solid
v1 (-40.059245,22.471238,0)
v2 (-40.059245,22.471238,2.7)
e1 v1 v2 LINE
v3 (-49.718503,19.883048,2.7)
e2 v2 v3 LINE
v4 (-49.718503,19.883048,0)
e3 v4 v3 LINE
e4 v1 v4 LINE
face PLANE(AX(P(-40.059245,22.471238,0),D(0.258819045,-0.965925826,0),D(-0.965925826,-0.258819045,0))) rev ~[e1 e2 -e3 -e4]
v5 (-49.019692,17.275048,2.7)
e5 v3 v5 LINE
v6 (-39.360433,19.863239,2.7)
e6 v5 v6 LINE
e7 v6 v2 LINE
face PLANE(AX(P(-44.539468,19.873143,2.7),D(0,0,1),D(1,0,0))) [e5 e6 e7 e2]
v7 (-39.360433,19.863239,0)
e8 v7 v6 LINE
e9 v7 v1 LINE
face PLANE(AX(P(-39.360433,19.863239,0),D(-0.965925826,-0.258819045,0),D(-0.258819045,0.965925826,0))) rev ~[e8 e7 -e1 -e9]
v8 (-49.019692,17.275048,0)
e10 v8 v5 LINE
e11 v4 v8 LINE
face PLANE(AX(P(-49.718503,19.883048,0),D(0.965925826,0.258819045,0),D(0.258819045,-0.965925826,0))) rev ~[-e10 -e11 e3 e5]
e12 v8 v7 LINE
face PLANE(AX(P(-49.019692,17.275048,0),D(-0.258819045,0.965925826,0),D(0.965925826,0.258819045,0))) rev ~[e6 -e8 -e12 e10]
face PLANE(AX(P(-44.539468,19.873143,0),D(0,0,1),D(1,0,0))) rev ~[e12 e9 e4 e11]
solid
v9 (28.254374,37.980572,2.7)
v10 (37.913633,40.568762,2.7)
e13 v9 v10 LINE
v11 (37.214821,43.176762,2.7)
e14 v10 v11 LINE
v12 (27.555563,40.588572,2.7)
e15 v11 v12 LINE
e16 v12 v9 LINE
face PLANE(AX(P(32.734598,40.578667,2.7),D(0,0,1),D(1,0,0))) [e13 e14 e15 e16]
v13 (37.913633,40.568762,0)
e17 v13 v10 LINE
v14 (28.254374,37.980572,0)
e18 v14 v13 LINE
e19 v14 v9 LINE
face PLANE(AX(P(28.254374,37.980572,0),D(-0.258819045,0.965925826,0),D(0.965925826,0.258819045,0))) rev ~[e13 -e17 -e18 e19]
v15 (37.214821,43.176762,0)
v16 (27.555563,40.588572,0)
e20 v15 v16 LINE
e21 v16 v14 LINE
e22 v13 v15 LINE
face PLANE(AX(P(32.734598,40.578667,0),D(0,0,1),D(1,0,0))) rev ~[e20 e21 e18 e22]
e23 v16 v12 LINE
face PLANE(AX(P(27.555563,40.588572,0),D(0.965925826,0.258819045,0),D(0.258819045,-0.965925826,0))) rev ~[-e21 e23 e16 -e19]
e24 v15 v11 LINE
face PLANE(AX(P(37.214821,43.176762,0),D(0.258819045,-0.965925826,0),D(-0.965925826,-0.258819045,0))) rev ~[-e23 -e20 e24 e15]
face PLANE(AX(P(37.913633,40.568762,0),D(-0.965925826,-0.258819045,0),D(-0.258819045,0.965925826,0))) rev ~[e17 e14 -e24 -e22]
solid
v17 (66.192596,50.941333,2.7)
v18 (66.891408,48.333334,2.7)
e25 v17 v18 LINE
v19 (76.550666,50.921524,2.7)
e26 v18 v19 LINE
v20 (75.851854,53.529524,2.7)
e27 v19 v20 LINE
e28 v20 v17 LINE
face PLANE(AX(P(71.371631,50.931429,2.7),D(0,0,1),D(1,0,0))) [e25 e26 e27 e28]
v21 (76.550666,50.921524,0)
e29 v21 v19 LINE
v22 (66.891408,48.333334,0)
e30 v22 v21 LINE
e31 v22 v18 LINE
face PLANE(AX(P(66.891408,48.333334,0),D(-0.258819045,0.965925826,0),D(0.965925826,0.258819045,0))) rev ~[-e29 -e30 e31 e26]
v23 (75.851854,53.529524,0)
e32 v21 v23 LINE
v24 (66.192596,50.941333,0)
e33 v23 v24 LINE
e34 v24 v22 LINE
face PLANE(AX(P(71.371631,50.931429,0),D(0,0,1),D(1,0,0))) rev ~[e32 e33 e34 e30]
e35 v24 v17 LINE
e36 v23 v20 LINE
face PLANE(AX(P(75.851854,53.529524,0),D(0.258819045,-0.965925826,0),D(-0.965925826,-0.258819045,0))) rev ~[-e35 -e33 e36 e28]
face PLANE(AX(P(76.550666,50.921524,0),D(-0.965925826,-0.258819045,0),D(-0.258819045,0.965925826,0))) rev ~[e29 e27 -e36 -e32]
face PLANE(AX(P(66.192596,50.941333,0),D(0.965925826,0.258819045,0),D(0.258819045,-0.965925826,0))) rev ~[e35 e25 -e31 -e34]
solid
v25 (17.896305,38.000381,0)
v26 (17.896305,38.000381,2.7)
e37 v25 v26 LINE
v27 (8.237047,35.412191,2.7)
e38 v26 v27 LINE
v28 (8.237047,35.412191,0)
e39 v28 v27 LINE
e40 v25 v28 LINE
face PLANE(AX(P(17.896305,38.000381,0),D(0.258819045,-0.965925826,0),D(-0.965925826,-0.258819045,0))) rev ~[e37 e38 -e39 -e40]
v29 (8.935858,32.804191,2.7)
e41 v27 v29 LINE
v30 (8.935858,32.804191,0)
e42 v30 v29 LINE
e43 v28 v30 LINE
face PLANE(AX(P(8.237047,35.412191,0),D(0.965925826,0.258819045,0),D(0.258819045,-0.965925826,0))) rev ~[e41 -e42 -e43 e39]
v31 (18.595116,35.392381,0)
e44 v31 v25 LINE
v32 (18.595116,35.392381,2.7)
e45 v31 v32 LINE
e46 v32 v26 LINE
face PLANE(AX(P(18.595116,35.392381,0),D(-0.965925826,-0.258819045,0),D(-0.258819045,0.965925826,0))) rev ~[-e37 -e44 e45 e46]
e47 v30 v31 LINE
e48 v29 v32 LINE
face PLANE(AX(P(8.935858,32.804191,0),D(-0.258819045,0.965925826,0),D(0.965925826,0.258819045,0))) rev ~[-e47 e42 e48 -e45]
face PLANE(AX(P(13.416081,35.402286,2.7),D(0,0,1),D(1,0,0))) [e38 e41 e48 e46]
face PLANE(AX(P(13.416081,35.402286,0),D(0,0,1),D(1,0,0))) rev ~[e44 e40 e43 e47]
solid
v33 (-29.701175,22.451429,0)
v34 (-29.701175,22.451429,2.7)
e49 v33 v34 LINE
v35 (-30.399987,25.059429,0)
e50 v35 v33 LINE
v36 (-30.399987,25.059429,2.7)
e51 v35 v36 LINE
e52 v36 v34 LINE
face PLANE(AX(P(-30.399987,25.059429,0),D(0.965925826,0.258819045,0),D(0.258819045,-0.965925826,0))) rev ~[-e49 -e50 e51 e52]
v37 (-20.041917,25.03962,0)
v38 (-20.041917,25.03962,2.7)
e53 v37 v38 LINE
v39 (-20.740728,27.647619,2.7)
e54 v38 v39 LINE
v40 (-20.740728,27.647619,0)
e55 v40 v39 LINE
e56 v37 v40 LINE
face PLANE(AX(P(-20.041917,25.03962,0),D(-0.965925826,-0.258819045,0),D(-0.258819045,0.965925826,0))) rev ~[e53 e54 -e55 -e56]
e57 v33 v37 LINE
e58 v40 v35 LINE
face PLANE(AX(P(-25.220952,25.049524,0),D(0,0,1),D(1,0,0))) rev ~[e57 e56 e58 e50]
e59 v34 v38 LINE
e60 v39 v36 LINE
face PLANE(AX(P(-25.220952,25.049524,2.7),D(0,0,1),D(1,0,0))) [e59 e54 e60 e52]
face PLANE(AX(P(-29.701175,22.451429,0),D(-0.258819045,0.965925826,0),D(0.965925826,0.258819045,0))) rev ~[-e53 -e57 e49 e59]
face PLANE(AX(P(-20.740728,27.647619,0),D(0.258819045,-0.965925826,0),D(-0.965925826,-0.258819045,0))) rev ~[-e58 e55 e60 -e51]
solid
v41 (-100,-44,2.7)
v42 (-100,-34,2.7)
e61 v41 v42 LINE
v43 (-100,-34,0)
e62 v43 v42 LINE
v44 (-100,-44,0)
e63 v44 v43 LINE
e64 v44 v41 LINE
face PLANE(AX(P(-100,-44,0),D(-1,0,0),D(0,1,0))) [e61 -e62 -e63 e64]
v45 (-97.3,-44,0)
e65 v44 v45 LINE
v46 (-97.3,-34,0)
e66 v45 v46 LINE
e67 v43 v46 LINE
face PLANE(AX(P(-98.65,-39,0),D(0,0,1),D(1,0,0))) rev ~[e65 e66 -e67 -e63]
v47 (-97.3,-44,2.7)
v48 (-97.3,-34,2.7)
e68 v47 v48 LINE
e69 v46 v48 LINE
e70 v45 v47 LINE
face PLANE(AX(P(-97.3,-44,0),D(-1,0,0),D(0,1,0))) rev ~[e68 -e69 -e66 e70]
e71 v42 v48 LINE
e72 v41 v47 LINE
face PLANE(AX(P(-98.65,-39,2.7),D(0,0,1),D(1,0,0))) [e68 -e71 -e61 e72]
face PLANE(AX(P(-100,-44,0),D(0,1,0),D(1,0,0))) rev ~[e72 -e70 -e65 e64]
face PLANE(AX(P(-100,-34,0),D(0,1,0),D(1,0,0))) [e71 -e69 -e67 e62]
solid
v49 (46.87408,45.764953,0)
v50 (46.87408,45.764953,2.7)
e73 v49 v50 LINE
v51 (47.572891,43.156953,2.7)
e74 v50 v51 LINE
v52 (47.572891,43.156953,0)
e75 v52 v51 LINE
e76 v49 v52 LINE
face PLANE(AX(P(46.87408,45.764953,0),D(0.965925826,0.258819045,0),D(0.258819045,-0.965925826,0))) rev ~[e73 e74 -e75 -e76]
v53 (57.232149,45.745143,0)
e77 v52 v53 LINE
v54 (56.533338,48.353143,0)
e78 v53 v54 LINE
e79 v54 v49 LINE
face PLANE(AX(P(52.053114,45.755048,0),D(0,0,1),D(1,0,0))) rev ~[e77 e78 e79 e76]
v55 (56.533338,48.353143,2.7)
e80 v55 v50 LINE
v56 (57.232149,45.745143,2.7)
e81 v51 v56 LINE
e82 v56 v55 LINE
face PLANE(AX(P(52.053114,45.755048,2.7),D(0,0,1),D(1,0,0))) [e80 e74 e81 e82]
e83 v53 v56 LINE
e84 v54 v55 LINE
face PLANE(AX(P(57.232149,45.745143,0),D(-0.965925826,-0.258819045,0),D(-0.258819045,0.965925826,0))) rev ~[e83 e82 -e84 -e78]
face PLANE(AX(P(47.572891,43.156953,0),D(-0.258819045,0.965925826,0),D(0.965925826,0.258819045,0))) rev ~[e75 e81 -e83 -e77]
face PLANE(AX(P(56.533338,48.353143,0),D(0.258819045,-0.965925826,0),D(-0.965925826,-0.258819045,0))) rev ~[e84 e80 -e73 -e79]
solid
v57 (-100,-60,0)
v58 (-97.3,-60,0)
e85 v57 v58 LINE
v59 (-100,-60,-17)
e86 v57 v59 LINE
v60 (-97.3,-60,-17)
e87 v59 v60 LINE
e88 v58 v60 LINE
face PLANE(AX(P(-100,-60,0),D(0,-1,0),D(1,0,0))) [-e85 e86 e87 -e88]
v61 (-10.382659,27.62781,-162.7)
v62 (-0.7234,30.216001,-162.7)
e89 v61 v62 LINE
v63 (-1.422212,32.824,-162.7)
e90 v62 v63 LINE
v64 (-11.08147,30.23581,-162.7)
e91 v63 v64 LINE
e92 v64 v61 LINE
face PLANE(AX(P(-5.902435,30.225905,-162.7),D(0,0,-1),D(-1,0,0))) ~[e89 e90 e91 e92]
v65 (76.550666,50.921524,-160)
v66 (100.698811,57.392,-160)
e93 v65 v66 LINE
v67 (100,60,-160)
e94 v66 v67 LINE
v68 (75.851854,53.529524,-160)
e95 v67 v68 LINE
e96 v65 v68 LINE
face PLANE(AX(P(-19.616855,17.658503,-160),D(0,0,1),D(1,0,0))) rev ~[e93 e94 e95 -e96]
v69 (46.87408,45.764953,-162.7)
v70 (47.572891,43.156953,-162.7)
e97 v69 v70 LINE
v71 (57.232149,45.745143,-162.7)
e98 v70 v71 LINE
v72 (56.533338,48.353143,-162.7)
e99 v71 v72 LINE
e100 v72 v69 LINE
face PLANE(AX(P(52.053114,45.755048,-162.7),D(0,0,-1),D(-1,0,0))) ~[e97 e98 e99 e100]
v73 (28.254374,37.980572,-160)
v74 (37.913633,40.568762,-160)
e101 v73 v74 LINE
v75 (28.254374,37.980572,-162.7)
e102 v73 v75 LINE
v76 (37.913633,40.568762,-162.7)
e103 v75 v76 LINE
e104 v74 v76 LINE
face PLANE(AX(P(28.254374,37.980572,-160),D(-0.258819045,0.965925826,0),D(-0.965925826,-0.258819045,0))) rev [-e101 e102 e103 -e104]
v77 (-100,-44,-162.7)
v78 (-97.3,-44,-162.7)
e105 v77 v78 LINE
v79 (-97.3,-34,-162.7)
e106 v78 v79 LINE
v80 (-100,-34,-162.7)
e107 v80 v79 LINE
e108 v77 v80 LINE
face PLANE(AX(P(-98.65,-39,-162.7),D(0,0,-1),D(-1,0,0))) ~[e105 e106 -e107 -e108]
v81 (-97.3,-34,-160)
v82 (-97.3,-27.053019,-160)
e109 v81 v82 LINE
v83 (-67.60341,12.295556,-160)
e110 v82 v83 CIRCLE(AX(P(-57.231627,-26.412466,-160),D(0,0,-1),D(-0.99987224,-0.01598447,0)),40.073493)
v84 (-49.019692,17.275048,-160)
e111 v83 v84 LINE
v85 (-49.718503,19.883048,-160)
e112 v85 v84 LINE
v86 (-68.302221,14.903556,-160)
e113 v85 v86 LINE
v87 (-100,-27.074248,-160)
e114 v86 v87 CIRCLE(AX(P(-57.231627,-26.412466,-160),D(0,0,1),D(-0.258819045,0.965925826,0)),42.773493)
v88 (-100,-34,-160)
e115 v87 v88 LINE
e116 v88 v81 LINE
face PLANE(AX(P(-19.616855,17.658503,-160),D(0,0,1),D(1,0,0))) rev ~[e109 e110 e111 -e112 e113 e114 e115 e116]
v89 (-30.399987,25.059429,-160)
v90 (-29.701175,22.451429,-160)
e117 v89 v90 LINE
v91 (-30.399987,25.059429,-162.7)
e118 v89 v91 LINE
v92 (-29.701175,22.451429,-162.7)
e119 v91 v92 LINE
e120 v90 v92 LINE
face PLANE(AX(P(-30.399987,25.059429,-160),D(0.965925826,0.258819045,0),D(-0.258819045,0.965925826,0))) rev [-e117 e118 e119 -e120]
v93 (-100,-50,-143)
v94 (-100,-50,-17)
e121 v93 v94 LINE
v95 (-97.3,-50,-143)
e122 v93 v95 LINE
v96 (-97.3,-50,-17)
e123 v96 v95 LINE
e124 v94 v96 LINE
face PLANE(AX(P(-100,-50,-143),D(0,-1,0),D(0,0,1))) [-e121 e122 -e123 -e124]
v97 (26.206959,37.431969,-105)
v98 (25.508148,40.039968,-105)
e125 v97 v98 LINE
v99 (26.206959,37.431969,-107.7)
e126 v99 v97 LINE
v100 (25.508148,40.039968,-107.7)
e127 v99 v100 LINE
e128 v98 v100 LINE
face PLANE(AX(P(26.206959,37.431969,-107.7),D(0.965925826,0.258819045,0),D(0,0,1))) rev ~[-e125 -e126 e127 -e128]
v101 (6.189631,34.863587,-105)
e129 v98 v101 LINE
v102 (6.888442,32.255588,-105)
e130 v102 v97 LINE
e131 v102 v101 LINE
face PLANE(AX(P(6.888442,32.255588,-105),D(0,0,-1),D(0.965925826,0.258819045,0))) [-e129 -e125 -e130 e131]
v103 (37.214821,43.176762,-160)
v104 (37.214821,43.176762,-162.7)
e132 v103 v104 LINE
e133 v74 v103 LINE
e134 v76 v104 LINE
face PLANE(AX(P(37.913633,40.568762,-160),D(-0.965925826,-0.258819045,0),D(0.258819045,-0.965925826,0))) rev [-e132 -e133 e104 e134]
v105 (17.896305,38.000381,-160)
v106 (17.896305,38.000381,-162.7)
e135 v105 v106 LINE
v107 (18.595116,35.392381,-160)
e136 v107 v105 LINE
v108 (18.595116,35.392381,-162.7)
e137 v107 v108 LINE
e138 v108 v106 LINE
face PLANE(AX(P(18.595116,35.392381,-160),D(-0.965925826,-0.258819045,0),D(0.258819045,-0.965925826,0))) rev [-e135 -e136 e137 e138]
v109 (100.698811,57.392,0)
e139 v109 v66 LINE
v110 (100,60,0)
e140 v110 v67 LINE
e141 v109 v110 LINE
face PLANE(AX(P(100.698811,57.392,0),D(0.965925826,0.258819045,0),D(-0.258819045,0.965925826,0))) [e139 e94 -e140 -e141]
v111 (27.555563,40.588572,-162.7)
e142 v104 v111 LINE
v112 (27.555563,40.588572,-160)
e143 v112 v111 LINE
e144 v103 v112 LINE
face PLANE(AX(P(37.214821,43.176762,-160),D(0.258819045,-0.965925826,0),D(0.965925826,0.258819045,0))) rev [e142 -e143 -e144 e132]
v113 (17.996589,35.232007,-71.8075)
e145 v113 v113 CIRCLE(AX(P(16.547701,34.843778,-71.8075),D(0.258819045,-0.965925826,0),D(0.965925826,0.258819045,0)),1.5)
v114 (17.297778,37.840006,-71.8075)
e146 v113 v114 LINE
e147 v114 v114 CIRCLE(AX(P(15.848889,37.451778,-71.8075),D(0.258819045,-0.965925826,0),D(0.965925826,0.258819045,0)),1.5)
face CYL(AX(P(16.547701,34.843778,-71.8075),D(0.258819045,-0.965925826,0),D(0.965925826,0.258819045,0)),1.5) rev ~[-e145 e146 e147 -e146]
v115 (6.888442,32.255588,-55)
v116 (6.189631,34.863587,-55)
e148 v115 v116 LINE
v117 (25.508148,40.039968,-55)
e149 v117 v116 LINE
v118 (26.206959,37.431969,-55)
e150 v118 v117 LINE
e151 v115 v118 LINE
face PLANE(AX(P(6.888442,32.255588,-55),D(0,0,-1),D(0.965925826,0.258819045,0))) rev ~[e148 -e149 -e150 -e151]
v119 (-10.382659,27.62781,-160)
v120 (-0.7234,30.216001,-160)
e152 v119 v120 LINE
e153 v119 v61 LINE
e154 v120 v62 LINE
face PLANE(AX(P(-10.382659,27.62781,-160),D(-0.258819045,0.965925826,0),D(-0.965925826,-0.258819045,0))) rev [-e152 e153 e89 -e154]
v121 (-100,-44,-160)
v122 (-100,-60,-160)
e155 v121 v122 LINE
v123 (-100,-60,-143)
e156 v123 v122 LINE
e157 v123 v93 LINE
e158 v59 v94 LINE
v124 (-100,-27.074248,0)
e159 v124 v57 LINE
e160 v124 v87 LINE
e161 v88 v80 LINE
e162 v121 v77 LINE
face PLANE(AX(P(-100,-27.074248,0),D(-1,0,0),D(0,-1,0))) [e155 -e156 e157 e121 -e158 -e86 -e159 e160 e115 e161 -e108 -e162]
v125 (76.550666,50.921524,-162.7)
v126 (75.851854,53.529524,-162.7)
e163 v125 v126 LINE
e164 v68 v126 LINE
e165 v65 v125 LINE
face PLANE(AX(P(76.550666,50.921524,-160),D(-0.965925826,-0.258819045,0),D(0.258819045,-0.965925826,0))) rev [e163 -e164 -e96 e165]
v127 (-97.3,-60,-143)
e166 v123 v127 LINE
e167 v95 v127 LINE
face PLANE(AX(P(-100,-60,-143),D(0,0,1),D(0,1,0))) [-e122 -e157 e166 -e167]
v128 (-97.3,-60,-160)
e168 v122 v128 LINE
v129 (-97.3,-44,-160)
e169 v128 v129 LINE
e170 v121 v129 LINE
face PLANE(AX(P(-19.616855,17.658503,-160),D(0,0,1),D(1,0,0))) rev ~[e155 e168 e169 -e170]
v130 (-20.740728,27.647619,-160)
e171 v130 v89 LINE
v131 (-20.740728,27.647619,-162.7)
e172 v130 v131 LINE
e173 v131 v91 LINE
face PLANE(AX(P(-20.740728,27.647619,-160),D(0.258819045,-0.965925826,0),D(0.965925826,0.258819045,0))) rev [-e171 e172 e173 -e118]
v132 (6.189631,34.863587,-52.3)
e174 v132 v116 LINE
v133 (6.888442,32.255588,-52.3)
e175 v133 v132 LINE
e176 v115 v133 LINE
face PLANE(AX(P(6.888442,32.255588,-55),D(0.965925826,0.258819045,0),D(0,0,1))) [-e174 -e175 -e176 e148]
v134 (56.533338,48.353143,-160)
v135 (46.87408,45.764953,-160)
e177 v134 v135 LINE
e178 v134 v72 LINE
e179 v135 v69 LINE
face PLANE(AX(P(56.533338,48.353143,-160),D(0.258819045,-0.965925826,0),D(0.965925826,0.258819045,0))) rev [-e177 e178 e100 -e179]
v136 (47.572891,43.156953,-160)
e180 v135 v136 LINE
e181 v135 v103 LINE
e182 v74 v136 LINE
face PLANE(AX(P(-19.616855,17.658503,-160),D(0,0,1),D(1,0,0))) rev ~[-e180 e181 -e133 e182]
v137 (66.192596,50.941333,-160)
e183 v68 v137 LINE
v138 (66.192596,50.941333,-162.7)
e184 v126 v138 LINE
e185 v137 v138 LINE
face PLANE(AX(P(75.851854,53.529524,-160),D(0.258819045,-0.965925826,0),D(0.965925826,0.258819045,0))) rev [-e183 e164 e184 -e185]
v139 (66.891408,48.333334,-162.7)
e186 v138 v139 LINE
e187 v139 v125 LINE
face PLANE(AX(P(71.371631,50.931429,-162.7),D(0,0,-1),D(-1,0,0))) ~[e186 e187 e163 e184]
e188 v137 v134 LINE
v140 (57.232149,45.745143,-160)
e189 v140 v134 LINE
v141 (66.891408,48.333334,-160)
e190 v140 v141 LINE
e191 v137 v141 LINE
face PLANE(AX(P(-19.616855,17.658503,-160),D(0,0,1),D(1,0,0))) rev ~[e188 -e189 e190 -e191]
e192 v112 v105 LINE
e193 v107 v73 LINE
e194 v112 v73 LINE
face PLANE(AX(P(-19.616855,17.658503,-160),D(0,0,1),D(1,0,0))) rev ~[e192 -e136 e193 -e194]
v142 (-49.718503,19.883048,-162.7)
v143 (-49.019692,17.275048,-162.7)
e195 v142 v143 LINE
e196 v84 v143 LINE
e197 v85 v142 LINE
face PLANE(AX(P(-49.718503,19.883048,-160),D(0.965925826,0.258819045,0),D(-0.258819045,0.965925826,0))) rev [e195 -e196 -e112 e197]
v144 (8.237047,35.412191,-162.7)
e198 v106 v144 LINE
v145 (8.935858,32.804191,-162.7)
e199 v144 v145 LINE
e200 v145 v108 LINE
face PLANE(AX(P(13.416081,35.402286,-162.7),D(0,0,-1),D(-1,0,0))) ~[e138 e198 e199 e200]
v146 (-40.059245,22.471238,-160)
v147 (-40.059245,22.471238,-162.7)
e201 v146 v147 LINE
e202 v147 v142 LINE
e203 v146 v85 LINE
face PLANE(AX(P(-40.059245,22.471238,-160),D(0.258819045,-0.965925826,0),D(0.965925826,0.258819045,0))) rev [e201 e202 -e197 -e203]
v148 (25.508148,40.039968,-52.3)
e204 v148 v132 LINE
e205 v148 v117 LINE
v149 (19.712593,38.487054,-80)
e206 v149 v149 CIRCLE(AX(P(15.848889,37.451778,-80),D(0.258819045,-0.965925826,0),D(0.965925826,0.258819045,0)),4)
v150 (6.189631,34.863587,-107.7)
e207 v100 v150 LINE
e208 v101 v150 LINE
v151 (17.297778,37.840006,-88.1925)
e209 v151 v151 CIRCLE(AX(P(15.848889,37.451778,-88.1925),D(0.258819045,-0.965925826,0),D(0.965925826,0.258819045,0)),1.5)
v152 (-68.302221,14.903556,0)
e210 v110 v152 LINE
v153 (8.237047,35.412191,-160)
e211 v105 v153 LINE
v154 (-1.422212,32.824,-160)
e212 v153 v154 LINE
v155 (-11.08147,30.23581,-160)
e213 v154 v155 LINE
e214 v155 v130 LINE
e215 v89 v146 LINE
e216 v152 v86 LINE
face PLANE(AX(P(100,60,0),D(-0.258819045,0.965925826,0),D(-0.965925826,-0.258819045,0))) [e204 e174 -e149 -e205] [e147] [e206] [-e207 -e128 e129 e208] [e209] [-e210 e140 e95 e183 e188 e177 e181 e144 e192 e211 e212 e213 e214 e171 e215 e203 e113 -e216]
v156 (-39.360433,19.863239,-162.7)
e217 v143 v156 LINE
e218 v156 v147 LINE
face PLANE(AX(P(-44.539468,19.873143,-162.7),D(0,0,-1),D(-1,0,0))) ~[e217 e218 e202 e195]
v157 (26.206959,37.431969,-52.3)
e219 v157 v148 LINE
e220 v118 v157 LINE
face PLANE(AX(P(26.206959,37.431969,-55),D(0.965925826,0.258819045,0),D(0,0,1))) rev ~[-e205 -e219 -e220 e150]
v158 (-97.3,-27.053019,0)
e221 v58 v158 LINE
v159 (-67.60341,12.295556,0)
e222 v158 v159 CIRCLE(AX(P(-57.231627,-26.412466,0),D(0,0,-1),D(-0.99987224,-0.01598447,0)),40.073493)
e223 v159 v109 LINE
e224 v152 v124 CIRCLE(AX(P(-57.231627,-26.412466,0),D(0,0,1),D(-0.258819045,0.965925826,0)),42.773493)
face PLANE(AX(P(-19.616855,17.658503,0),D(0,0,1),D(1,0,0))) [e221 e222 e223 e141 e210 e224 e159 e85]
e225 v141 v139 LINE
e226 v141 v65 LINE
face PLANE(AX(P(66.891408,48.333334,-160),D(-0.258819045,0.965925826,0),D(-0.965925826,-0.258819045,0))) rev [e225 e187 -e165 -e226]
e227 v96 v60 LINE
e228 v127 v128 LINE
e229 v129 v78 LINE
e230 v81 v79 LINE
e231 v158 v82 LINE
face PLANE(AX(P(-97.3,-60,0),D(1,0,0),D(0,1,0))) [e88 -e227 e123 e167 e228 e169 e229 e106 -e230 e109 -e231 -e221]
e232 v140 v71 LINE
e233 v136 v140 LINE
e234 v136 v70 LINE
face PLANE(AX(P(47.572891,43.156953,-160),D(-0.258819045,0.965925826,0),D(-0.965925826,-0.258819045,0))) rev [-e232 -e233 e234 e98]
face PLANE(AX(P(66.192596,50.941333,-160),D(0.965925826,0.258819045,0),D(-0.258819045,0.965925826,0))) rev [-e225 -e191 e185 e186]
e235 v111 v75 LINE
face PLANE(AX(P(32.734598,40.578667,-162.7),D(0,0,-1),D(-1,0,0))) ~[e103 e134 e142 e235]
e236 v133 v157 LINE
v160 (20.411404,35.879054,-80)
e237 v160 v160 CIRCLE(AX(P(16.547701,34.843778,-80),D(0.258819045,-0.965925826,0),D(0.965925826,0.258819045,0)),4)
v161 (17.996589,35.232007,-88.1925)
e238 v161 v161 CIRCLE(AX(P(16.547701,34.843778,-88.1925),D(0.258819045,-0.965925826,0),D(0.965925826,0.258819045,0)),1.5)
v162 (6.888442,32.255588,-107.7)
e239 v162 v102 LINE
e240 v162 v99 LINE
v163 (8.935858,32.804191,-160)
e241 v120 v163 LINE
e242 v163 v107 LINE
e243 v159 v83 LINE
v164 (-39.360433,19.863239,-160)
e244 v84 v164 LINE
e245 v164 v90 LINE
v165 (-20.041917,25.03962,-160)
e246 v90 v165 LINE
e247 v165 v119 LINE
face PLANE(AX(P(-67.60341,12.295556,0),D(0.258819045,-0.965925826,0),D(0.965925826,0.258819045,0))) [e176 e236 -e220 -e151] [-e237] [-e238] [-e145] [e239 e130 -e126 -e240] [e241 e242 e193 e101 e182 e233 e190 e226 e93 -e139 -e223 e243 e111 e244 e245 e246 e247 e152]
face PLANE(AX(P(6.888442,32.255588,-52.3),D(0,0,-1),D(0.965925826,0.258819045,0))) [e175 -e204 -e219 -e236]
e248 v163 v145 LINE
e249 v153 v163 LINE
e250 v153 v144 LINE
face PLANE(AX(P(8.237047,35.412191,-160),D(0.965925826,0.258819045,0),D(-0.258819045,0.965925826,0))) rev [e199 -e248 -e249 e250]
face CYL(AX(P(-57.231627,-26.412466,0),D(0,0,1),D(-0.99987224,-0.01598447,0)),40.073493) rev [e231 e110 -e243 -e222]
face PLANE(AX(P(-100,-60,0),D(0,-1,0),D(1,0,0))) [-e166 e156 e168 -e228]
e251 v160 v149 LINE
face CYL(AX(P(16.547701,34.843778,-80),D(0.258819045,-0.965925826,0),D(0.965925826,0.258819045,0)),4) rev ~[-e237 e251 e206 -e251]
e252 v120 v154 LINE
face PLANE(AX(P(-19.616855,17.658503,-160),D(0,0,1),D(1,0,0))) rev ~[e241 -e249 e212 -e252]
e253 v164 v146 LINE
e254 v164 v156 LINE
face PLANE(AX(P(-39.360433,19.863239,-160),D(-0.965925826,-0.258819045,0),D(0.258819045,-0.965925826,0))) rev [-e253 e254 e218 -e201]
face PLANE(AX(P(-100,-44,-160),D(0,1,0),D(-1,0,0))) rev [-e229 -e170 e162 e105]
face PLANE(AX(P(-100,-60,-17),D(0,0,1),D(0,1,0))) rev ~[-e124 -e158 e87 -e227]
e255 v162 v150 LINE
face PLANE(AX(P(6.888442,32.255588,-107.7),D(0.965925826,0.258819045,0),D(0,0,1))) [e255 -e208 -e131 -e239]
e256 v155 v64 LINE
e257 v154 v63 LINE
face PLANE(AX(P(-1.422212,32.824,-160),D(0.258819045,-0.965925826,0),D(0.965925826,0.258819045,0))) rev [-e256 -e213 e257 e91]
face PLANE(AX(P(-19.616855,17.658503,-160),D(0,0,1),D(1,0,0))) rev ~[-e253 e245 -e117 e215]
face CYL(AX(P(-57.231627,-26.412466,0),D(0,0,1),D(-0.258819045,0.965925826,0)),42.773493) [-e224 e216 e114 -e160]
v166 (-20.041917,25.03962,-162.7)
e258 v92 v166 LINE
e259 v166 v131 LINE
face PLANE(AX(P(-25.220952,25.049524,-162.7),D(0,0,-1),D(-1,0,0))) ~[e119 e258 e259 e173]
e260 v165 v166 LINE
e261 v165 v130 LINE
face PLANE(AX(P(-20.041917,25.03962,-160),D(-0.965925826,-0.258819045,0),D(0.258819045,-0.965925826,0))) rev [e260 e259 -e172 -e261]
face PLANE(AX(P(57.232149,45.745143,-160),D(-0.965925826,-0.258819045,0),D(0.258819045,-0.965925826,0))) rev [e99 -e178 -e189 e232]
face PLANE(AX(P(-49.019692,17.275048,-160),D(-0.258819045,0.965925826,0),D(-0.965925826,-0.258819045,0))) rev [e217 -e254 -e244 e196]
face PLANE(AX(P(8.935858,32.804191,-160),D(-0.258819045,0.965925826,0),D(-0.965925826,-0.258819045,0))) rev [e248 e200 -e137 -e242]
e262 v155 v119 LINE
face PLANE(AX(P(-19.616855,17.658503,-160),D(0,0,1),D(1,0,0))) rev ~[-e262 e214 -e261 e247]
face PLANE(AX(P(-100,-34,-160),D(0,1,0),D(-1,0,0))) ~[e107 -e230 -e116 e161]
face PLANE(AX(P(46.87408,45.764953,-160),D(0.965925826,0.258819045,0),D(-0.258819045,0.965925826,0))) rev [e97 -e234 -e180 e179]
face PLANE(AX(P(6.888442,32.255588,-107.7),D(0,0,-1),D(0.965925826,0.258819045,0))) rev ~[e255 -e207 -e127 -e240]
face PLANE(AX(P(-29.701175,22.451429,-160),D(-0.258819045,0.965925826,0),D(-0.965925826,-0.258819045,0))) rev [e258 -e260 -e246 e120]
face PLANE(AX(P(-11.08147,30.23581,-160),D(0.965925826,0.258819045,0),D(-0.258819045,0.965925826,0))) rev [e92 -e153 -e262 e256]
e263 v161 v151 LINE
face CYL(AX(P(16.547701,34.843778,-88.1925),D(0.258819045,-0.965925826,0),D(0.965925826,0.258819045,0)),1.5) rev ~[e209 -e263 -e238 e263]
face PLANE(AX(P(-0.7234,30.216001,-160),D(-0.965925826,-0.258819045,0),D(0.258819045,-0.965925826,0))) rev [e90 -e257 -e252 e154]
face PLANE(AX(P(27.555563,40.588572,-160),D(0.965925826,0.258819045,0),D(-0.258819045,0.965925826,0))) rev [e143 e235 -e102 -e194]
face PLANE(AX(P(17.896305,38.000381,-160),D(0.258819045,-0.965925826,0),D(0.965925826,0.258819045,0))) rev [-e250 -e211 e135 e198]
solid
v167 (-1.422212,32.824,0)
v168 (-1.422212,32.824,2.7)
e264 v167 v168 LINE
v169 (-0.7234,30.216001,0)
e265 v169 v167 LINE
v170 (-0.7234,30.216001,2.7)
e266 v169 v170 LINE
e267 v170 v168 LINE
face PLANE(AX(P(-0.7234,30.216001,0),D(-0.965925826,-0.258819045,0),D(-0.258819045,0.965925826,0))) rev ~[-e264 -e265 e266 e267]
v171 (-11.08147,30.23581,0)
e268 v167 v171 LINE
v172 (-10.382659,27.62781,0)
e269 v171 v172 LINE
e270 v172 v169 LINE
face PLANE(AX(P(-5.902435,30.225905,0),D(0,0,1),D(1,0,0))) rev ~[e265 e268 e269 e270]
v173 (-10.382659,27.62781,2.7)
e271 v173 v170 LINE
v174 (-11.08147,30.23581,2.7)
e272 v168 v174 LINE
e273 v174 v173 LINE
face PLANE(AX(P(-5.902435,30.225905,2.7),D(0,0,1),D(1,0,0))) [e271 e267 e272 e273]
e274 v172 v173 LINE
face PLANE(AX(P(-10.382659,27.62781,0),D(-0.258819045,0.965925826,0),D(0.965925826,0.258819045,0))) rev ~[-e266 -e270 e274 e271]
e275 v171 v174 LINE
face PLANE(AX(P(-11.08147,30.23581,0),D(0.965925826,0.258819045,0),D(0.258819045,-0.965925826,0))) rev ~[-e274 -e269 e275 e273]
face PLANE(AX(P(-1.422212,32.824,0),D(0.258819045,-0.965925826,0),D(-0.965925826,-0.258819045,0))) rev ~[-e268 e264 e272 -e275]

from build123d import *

# Parameters (mm, degrees)
EXTRUDE_THIN1_DEPTH   = 160
SKETCH2_W             = 2.7
SKETCH2_H             = 10
BOSS_EXTRUDE1_DEPTH   = 2.7
BOSS_EXTRUDE1_2_DEPTH = 2.7
BOSS_EXTRUDE1_3_DEPTH = 2.7
BOSS_EXTRUDE1_4_DEPTH = 2.7
BOSS_EXTRUDE1_5_DEPTH = 2.7
BOSS_EXTRUDE1_6_DEPTH = 2.7
BOSS_EXTRUDE1_7_DEPTH = 2.7
BOSS_EXTRUDE1_8_DEPTH = 2.7
SKETCH3_R             = 4
SKETCH3_R_2           = 1.5
SKETCH3_W             = 20
SKETCH3_H             = 2.7
CUT_EXTRUDE1_DEPTH    = 3
SKETCH4_W             = 126
SKETCH4_H             = 10
CUT_EXTRUDE2_DEPTH    = 3


with BuildPart() as part:
    # Sketch1 → Extrude-Thin1 (new body)
    with BuildSketch(Plane.XY):
        with BuildLine():
            Line((100, 60), (-68.302221487, 14.903555668))
            ThreePointArc((-68.302221487, 14.903555668), (-91.366544651, -0.636913735), (-100, -27.074247963))
            Line((-100, -27.074247963), (-100, -60))
            Line((-100, -60), (-97.3, -60))
            Line((-97.3, -60), (-97.3, -27.053019321))
            ThreePointArc((-97.3, -27.053019321), (-89.218029242, -2.272148948), (-67.603410065, 12.295555937))
            Line((-67.603410065, 12.295555937), (100.698811422, 57.392000269))
            Line((100.698811422, 57.392000269), (100, 60))
        make_face()
    extrude(amount=-EXTRUDE_THIN1_DEPTH)


with BuildPart() as body_2:
    # Sketch2 → Boss-Extrude1 (new body)
    with BuildSketch(Plane.XY):
        with Locations((-98.65, -39)):
            Rectangle(SKETCH2_W, SKETCH2_H)
    boss_extrude1 = extrude(amount=BOSS_EXTRUDE1_DEPTH)


with BuildPart() as body_3:
    # Sketch2 → Boss-Extrude1 2 (new body)
    with BuildSketch(Plane.XY):
        Polygon((-40.059244812, 22.47123846), (-49.718503075, 19.883048009), (-49.019691653, 17.275048278), (-39.36043339, 19.863238729), align=None)
    boss_extrude1_2 = extrude(amount=BOSS_EXTRUDE1_2_DEPTH)


with BuildPart() as body_4:
    # Sketch2 → Boss-Extrude1 3 (new body)
    with BuildSketch(Plane.XY):
        Polygon((-20.740728286, 27.647619362), (-30.399986549, 25.059428911), (-29.701175127, 22.45142918), (-20.041916864, 25.039619631), align=None)
    boss_extrude1_3 = extrude(amount=BOSS_EXTRUDE1_3_DEPTH)


with BuildPart() as body_5:
    # Sketch2 → Boss-Extrude1 4 (new body)
    with BuildSketch(Plane.XY):
        Polygon((-1.42221176, 32.824000264), (-11.081470023, 30.235809813), (-10.382658601, 27.627810082), (-0.723400339, 30.216000533), align=None)
    boss_extrude1_4 = extrude(amount=BOSS_EXTRUDE1_4_DEPTH)


with BuildPart() as body_6:
    # Sketch2 → Boss-Extrude1 5 (new body)
    with BuildSketch(Plane.XY):
        Polygon((17.896304765, 38.000381166), (8.237046503, 35.412190715), (8.935857924, 32.804190984), (18.595116187, 35.392381435), align=None)
    boss_extrude1_5 = extrude(amount=BOSS_EXTRUDE1_5_DEPTH)


with BuildPart() as body_7:
    # Sketch2 → Boss-Extrude1 6 (new body)
    with BuildSketch(Plane.XY):
        Polygon((37.214821291, 43.176762068), (27.555563028, 40.588571617), (28.25437445, 37.980571886), (37.913632713, 40.568762337), align=None)
    boss_extrude1_6 = extrude(amount=BOSS_EXTRUDE1_6_DEPTH)


with BuildPart() as body_8:
    # Sketch2 → Boss-Extrude1 7 (new body)
    with BuildSketch(Plane.XY):
        Polygon((56.533337817, 48.35314297), (46.874079554, 45.764952519), (47.572890976, 43.156952788), (57.232149239, 45.745143239), align=None)
    boss_extrude1_7 = extrude(amount=BOSS_EXTRUDE1_7_DEPTH)


with BuildPart() as body_9:
    # Sketch2 → Boss-Extrude1 8 (new body)
    with BuildSketch(Plane.XY):
        Polygon((75.851854343, 53.529523872), (66.19259608, 50.941333421), (66.891407502, 48.33333369), (76.550665765, 50.921524141), align=None)
    boss_extrude1_8 = extrude(amount=BOSS_EXTRUDE1_8_DEPTH)


with BuildPart() as part_1:
    add(part.part)

    # Mirror1: Boss-Extrude1, Boss-Extrude1 2, Boss-Extrude1 3, Boss-Extrude1 4, Boss-Extrude1 5, Boss-Extrude1 6, Boss-Extrude1 7, Boss-Extrude1 8 across plane
    add(boss_extrude1.mirror(Plane.XY.offset(-80)))
    add(boss_extrude1_2.mirror(Plane.XY.offset(-80)))
    add(boss_extrude1_3.mirror(Plane.XY.offset(-80)))
    add(boss_extrude1_4.mirror(Plane.XY.offset(-80)))
    add(boss_extrude1_5.mirror(Plane.XY.offset(-80)))
    add(boss_extrude1_6.mirror(Plane.XY.offset(-80)))
    add(boss_extrude1_7.mirror(Plane.XY.offset(-80)))
    add(boss_extrude1_8.mirror(Plane.XY.offset(-80)))

    # Sketch3 → Cut-Extrude1 (cut)
    with BuildSketch(Plane(origin=(-7.602458767, 28.372762383, 0), x_dir=(0.965925826, 0.258819045, 0), z_dir=(0.258819045, -0.965925826, 0))):
        with Locations((25.002084828, -80)):
            Circle(SKETCH3_R)
        with Locations((25.002084828, -71.8075)):
            Circle(SKETCH3_R_2)
        with Locations((25.002084828, -88.1925)):
            Circle(SKETCH3_R_2)
        with Locations((25.002084828, -106.35)):
            Rectangle(SKETCH3_W, SKETCH3_H)
        with Locations((25.002084828, -53.65)):
            Rectangle(SKETCH3_W, SKETCH3_H)
    extrude(amount=-CUT_EXTRUDE1_DEPTH, mode=Mode.SUBTRACT)

    # Sketch4 → Cut-Extrude2 (cut)
    with BuildSketch(Plane.ZY.offset(100)):
        with Locations((-80, -55)):
            Rectangle(SKETCH4_W, SKETCH4_H)
    extrude(amount=-CUT_EXTRUDE2_DEPTH, mode=Mode.SUBTRACT)


solid = Compound([body_2.part, body_3.part, body_4.part, body_5.part, body_6.part, body_7.part, body_8.part, body_9.part, part_1.part])
